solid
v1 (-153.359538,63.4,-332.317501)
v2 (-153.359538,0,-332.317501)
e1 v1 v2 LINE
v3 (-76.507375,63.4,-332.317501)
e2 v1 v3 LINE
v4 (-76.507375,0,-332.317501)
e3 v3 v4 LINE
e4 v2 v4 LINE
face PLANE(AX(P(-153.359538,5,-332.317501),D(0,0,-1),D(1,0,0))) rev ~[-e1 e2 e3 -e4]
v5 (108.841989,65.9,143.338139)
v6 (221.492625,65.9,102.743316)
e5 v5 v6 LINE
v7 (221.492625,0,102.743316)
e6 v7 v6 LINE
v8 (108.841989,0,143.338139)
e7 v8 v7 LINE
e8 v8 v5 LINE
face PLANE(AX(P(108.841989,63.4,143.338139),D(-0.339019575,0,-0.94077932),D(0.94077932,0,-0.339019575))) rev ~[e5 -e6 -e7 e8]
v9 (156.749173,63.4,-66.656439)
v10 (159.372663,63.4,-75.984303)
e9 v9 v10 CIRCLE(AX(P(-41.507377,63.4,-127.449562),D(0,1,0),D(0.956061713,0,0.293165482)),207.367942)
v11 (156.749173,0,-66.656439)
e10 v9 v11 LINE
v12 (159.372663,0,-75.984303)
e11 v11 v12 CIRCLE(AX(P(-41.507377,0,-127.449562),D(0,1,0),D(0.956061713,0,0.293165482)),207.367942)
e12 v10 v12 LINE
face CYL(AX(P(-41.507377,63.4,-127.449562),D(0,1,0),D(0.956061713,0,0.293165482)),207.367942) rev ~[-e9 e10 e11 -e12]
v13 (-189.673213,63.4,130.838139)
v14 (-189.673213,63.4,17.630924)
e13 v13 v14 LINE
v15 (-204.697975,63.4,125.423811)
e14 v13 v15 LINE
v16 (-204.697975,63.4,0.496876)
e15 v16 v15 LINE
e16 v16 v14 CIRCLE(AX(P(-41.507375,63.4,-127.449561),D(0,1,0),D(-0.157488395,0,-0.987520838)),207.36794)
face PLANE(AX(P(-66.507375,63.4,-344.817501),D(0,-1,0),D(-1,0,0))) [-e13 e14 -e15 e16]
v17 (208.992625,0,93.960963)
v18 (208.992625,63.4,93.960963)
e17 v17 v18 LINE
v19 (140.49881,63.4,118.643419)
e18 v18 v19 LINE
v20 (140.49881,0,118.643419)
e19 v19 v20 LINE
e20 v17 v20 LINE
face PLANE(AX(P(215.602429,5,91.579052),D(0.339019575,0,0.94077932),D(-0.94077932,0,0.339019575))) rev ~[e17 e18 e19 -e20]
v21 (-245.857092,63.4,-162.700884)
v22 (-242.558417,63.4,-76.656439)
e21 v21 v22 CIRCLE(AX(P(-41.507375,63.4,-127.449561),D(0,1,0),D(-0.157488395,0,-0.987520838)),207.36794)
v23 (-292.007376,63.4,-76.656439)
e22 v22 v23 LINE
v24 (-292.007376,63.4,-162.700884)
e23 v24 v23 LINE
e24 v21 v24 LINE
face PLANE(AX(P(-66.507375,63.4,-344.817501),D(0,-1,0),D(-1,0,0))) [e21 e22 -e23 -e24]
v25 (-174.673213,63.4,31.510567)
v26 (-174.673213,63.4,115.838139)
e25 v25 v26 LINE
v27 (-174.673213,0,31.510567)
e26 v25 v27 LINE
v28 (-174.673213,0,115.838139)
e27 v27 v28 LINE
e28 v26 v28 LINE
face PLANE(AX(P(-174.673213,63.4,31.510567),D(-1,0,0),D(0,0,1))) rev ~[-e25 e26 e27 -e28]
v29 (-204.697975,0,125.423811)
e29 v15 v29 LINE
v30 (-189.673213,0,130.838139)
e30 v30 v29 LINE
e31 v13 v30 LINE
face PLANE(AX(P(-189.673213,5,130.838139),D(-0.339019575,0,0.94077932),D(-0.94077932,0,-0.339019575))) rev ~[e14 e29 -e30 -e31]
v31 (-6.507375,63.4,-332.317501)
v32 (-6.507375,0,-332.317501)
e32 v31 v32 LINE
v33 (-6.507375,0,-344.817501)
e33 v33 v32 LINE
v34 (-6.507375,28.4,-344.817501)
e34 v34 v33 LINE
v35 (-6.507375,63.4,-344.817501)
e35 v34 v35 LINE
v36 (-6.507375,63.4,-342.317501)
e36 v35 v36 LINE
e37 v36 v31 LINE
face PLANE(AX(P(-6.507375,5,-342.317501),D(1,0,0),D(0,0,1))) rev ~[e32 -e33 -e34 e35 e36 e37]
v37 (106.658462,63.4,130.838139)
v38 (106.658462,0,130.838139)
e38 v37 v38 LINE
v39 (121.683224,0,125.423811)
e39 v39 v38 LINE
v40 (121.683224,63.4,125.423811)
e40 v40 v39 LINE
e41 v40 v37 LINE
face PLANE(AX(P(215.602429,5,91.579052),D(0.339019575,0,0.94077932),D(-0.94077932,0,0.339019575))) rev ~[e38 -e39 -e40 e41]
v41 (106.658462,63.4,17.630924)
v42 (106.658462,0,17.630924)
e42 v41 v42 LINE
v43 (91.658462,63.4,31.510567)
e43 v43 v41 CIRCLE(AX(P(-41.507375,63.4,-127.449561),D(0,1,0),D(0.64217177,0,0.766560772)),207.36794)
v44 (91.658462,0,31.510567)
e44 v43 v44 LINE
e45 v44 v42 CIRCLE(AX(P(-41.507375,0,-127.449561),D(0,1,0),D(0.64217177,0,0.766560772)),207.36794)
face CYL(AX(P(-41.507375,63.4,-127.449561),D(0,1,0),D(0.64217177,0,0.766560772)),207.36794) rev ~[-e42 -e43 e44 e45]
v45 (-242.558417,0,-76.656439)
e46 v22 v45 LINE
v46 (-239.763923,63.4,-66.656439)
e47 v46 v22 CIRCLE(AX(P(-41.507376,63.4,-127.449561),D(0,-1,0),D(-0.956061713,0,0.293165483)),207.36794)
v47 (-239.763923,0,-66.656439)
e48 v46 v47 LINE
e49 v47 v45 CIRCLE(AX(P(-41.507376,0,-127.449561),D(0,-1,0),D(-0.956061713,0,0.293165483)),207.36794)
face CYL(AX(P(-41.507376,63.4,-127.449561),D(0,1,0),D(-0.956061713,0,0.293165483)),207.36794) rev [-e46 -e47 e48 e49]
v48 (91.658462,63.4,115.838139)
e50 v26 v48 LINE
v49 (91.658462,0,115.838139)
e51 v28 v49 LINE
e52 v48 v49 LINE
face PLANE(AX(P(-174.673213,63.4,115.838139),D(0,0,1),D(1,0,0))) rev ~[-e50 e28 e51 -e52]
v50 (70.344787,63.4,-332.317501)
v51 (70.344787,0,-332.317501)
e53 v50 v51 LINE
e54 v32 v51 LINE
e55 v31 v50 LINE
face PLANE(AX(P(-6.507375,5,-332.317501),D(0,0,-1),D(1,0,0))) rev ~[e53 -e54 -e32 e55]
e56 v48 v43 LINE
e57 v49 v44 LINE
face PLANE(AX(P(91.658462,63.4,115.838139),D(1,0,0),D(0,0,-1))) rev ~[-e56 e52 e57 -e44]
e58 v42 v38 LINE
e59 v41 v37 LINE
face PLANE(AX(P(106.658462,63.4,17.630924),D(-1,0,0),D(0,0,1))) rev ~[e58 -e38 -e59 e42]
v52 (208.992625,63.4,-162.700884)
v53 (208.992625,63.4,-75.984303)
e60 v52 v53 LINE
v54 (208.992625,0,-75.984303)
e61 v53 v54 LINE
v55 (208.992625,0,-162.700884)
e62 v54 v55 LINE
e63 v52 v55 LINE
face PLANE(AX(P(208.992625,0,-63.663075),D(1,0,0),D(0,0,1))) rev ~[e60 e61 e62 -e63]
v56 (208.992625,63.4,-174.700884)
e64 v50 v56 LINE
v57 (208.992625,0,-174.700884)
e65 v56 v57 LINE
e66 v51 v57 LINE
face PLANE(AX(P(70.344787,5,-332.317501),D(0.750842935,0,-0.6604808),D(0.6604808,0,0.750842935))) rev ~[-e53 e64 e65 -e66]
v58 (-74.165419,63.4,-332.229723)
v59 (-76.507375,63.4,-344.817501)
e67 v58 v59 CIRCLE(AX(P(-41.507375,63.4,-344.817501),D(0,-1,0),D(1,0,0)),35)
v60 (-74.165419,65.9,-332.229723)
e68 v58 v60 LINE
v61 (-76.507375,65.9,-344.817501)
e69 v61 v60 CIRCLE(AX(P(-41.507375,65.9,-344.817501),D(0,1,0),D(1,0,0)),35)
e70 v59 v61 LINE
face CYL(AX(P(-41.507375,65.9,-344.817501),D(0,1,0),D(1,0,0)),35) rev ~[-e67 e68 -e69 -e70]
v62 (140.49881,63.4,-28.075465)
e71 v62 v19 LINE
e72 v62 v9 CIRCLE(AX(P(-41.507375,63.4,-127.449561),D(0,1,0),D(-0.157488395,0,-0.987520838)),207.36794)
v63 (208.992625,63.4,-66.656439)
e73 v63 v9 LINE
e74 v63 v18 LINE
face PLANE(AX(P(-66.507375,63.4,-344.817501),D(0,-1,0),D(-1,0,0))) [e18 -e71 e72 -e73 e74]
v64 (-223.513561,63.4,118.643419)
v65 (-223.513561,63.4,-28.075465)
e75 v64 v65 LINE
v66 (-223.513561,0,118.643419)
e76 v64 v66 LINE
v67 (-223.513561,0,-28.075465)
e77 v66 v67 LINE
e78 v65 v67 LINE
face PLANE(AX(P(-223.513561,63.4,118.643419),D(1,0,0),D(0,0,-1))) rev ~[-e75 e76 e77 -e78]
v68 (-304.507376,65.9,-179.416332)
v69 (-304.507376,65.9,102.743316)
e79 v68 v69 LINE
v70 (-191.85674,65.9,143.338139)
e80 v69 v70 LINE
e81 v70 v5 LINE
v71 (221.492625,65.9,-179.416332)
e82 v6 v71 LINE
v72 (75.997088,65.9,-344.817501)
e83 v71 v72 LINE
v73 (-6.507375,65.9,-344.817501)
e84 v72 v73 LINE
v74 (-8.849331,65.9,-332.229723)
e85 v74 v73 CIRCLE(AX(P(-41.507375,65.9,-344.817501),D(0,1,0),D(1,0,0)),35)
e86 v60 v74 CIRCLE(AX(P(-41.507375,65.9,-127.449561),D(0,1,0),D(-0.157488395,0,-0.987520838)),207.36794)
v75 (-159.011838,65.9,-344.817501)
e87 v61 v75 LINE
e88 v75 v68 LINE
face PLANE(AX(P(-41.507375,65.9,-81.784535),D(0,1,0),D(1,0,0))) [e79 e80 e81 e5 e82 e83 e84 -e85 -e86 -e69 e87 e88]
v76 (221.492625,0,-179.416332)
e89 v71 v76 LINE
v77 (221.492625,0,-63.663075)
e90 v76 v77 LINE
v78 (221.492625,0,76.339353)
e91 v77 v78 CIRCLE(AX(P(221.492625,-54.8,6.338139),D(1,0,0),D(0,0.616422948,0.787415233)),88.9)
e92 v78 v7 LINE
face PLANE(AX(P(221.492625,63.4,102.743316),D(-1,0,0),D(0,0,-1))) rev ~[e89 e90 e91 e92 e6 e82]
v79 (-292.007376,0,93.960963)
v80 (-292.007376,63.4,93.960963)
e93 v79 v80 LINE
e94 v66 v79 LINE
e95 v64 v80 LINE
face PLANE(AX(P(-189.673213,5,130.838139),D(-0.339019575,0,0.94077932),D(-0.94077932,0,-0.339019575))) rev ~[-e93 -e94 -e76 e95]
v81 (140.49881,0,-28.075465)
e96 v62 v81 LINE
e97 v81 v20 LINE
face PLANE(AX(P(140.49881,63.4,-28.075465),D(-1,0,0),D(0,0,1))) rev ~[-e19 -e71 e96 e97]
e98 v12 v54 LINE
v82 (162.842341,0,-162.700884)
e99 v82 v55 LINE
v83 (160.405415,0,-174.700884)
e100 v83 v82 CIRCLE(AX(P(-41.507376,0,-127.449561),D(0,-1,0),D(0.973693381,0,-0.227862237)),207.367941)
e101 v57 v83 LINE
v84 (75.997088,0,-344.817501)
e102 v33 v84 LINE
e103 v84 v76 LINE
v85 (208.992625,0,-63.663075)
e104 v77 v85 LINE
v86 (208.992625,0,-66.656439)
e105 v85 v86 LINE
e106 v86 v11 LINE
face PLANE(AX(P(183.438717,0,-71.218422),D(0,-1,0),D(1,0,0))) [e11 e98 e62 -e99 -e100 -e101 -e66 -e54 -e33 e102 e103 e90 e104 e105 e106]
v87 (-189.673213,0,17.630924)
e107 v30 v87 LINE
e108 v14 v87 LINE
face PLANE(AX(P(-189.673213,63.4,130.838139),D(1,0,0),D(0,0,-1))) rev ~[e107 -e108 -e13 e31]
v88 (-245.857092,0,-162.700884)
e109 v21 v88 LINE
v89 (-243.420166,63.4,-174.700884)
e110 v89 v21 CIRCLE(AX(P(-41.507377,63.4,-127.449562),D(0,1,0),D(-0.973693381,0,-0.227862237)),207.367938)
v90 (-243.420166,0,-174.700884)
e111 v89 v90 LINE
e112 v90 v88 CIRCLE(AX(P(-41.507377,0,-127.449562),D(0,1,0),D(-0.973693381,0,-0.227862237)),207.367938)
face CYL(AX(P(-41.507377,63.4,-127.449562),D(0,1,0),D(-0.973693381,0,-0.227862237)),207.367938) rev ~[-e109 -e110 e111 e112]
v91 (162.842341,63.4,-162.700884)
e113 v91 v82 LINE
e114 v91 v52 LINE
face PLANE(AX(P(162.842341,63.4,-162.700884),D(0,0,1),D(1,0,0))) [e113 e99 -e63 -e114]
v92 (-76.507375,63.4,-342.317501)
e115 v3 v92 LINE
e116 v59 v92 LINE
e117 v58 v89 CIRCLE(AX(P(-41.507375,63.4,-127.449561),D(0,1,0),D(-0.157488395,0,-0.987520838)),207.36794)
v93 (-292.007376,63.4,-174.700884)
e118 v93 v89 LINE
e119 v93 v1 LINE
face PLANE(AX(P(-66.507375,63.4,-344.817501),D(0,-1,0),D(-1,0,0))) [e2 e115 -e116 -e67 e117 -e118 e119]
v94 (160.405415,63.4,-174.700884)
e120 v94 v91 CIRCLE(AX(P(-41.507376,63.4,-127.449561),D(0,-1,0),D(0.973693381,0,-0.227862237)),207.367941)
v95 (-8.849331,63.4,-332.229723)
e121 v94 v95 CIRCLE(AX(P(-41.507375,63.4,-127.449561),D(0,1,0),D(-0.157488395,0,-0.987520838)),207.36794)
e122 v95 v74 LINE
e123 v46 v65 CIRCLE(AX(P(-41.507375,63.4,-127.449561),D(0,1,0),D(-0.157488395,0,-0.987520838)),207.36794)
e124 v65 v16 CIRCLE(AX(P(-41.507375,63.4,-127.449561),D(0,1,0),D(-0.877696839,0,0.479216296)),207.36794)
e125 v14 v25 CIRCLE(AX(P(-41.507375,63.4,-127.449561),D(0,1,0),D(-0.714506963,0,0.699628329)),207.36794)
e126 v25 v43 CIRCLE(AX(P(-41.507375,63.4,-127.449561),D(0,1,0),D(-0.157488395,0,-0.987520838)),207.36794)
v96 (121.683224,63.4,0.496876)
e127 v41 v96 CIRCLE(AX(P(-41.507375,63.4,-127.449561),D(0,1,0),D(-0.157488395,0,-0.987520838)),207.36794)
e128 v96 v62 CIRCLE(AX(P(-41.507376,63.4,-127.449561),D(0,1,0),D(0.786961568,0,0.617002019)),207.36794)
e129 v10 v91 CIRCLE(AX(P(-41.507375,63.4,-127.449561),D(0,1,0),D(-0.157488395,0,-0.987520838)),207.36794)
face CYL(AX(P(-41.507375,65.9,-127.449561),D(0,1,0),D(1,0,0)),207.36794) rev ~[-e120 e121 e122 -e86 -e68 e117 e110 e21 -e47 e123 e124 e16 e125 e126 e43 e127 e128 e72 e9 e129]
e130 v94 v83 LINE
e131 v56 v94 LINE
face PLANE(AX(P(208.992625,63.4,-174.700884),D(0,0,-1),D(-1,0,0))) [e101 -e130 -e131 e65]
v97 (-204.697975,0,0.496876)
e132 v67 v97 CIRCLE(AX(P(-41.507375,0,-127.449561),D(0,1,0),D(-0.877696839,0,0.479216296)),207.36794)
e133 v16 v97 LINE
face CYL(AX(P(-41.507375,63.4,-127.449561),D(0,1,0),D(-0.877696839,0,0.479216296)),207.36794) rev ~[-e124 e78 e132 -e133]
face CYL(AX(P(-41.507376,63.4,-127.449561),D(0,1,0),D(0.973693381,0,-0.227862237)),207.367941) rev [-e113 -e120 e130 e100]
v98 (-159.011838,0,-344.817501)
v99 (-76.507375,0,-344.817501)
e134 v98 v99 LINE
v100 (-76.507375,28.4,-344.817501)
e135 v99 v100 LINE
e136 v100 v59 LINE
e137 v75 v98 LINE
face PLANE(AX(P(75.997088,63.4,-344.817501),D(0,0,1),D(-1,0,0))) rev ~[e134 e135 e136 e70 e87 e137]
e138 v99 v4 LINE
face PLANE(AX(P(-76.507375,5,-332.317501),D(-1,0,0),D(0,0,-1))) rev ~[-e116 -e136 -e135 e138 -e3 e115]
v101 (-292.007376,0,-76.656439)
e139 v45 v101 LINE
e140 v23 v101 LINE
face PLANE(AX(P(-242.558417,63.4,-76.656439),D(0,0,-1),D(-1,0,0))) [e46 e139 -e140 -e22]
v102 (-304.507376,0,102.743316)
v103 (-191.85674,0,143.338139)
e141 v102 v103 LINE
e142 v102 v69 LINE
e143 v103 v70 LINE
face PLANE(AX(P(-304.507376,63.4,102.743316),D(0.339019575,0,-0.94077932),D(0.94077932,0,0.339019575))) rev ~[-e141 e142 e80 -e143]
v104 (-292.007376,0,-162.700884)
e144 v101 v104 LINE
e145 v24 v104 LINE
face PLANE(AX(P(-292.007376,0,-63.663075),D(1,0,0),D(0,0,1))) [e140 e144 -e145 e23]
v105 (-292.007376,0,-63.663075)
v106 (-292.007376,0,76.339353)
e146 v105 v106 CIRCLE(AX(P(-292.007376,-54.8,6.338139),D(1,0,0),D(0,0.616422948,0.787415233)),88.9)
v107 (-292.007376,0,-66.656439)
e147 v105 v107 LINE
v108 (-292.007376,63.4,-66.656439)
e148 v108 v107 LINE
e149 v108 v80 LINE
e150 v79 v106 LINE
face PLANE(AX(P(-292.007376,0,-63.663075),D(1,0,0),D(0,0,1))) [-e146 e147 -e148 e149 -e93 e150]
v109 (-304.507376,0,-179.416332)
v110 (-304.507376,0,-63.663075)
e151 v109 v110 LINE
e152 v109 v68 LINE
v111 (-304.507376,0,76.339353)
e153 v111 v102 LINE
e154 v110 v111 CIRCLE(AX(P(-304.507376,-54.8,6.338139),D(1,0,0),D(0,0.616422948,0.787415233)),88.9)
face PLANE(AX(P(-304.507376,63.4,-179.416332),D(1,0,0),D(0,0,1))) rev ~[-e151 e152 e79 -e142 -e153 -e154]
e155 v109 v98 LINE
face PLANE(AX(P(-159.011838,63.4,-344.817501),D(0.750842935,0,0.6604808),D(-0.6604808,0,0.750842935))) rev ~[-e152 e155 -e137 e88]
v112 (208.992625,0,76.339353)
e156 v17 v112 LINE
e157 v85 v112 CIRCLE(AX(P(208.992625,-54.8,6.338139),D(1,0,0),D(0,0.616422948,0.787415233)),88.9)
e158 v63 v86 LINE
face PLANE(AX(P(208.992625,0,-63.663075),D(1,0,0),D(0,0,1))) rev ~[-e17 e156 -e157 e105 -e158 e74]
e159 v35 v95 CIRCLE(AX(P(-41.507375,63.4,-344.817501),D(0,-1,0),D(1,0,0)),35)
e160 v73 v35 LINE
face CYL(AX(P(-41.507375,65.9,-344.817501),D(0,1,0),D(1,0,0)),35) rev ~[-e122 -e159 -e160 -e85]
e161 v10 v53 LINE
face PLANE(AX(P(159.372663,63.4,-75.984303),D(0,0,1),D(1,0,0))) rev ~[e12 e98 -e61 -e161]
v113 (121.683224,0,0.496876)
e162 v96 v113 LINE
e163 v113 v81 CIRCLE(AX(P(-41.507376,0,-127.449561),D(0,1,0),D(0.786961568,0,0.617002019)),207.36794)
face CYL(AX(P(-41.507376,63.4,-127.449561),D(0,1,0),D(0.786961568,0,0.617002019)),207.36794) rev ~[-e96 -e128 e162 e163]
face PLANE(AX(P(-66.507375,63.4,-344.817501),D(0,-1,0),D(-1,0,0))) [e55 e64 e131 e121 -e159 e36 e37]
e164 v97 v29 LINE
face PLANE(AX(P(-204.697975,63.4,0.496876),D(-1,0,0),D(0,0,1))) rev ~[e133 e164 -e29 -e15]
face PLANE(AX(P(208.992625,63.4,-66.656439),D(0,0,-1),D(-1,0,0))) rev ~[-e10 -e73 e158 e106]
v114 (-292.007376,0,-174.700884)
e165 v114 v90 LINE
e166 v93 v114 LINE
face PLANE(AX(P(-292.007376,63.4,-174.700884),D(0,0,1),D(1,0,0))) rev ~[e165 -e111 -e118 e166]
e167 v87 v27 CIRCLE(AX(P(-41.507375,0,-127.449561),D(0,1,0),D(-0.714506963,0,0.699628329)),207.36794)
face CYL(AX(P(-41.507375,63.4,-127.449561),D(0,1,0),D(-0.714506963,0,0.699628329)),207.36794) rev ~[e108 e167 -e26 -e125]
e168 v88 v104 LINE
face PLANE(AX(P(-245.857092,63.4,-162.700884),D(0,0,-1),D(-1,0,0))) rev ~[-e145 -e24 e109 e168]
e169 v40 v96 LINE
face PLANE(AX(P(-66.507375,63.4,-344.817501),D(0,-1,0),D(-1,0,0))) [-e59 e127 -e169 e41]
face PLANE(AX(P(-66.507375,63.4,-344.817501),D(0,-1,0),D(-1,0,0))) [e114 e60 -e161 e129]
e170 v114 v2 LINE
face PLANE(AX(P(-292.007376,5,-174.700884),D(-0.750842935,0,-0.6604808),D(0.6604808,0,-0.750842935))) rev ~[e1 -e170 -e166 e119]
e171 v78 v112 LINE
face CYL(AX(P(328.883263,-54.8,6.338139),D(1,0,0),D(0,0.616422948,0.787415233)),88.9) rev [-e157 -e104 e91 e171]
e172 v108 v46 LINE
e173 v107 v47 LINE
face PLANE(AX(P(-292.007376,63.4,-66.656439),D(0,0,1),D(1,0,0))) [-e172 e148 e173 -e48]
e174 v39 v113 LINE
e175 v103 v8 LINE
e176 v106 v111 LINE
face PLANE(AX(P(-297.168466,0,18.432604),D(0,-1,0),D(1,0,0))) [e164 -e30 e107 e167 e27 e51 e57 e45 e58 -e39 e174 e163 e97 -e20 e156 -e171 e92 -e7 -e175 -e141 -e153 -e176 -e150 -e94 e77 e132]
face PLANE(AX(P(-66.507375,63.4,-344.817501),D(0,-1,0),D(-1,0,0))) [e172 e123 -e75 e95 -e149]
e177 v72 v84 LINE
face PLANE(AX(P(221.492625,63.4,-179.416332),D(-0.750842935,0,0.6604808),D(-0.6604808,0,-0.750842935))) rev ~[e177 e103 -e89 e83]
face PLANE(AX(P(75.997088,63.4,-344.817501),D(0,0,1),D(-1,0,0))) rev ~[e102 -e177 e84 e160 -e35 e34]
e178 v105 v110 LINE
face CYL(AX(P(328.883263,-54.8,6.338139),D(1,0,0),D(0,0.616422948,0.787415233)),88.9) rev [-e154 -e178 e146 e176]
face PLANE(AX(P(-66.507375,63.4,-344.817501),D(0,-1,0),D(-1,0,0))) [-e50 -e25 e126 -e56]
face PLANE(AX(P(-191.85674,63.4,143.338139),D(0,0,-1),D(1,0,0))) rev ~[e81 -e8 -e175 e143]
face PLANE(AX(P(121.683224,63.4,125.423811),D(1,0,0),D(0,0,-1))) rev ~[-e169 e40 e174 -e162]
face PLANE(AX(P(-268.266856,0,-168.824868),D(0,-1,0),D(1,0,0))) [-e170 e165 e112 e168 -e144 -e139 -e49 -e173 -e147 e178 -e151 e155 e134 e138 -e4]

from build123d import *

# Parameters (mm, degrees)
BOSS_EXTRUDE1_DEPTH     = 63.399999946
BOSS_EXTRUDE2_DEPTH     = 63.399999946
BOSS_EXTRUDE3_DEPTH     = 5
BOSS_EXTRUDE4_DEPTH     = 2.5
SKETCH8_W               = 50.000000076
SKETCH8_H               = 34.99999985
CUT_EXTRUDE2_DEPTH      = 12.5
CUT_EXTRUDE4_DEPTH      = 2.5
SKETCH10_W              = 9.999999939
SKETCH10_H              = 34.99999985
CUT_EXTRUDE5_DEPTH      = 2.5
BOSS_EXTRUDE6_DEPTH     = 58.399999946
BOSS_EXTRUDE7_DEPTH     = 63.399999946
CUT_EXTRUDE8_DEPTH      = 633.390638366
CUT_EXTRUDE8_DEPTH_BACK = 633.390638366
SKETCH13_R              = 207.367939984
CUT_EXTRUDE9_DEPTH      = 465.722133037
BOSS_EXTRUDE15_DEPTH    = 63.4


with BuildPart() as part:
    # Sketch1 → Boss-Extrude1 (new body)
    with BuildSketch(Plane(origin=(0, 0, 0), x_dir=(1, 0, 0), z_dir=(0, 1, 0))):
        Polygon((-304.507375635, 63.663075045), (-304.507375635, -102.743315535), (-191.856739857, -143.33813924), (108.841988943, -143.33813924), (221.492624721, -102.743315535), (221.492624721, 63.663075045), (218.992624721, 63.663075045), (218.992624721, -100.986845182), (108.405283491, -140.83813932), (-191.420034405, -140.83813932), (-302.007375635, -100.986845182), (-302.007375635, 63.663075045), align=None)
    extrude(amount=BOSS_EXTRUDE1_DEPTH)



with BuildPart() as body_2:
    # Sketch3 → Boss-Extrude2 (new body)
    with BuildSketch(Plane(origin=(0, 0, 0), x_dir=(1, 0, 0), z_dir=(0, 1, 0))):
        Polygon((-304.507375635, 179.416332489), (-159.011838483, 344.817501188), (75.997087569, 344.817501188), (221.492624721, 179.416332489), (221.492624721, 63.663075045), (218.992624721, 63.663075045), (218.992624721, 178.473242754), (74.866627441, 342.317501188), (-157.881378355, 342.317501188), (-302.007375635, 178.473242754), (-302.007375635, 63.663075045), (-304.507375635, 63.663075045), align=None)
    extrude(amount=BOSS_EXTRUDE2_DEPTH)


with BuildPart() as part_1:
    add(part.part)

    add(body_2.part)  # Boss-Extrude3 merges body 2
    # Sketch5 → Boss-Extrude3 (add)
    with BuildSketch(Plane(origin=(0, 0, 0), x_dir=(1, 0, 0), z_dir=(0, 1, 0))):
        Polygon((208.992624721, 174.700883815), (208.992624721, 63.663075045), (218.992624721, 63.663075045), (218.992624721, 178.473242754), (74.866627441, 342.317501188), (-157.881378355, 342.317501188), (-302.007375635, 178.473242754), (-302.007375635, 63.663075045), (-292.007375635, 63.663075045), (-292.007375635, 174.700883815), (-153.359537842, 332.317501188), (70.344786927, 332.317501188), align=None)
        Polygon((215.602428975, -91.579051987), (106.658461628, -130.83813932), (-189.673212543, -130.83813932), (-298.617179889, -91.579051987), (-302.007375635, -100.986845182), (-191.420034405, -140.83813932), (108.405283491, -140.83813932), (218.992624721, -100.986845182), align=None)
    extrude(amount=BOSS_EXTRUDE3_DEPTH)

    # Sketch6 → Boss-Extrude4 (add)
    with BuildSketch(Plane(origin=(0, 63.399999946, 0), x_dir=(1, 0, 0), z_dir=(0, 1, 0))):
        Polygon((-159.011838483, 344.817501188), (-304.507375635, 179.416332489), (-304.507375635, -102.743315535), (-191.856739857, -143.33813924), (108.841988943, -143.33813924), (221.492624721, -102.743315535), (221.492624721, 179.416332489), (75.997087569, 344.817501188), align=None)
    extrude(amount=BOSS_EXTRUDE4_DEPTH)

    # Sketch8 → Cut-Extrude2 (cut)
    with BuildSketch(Plane(origin=(0, 0, -344.817501188), x_dir=(-1, 0, 0), z_dir=(0, 0, -1))):
        Polygon((6.50737548, 28.400000096), (6.50737548, 0), (76.507375434, 0), (76.507375434, 28.400000096), (66.507375495, 28.400000096), (16.507375419, 28.400000096), align=None)
        with Locations((41.507375457, 45.900000021)):
            Rectangle(SKETCH8_W, SKETCH8_H)
    extrude(amount=-CUT_EXTRUDE2_DEPTH, mode=Mode.SUBTRACT)

    # Sketch9 → Cut-Extrude4 (cut)
    with BuildSketch(Plane(origin=(0, 65.899999946, 0), x_dir=(1, 0, 0), z_dir=(0, 1, 0))):
        with BuildLine():
            ThreePointArc((-76.507375434, 344.817501188), (-41.507375457, 309.817501211), (-6.50737548, 344.817501188))
            Line((-6.50737548, 344.817501188), (-16.507375419, 344.817501188))
            Line((-16.507375419, 344.817501188), (-66.507375495, 344.817501188))
            Line((-66.507375495, 344.817501188), (-76.507375434, 344.817501188))
        make_face()
        with BuildLine():
            Line((-16.507375419, 344.817501188), (-6.50737548, 344.817501188))
            ThreePointArc((-6.50737548, 344.817501188), (-41.507375457, 379.817501165), (-76.507375434, 344.817501188))
            Line((-76.507375434, 344.817501188), (-66.507375495, 344.817501188))
            Line((-66.507375495, 344.817501188), (-16.507375419, 344.817501188))
        make_face()
    extrude(amount=-CUT_EXTRUDE4_DEPTH, mode=Mode.SUBTRACT)

    # Sketch10 → Cut-Extrude5 (cut)
    with BuildSketch(Plane(origin=(0, 0, -344.817501188), x_dir=(-1, 0, 0), z_dir=(0, 0, -1))):
        with Locations((11.50737545, 45.900000021)):
            Rectangle(SKETCH10_W, SKETCH10_H)
        with Locations((71.507375465, 45.900000021)):
            Rectangle(SKETCH10_W, SKETCH10_H)
    extrude(amount=-CUT_EXTRUDE5_DEPTH, mode=Mode.SUBTRACT)

    # Sketch11 → Boss-Extrude6 (add)
    with BuildSketch(Plane(origin=(0, 5, 0), x_dir=(1, 0, 0), z_dir=(0, 1, 0))):
        Polygon((-76.507375434, 332.317501188), (-76.507375434, 342.317501188), (-157.881378355, 342.317501188), (-302.007375635, 178.473242754), (-302.007375635, 63.663075045), (-292.007375635, 63.663075045), (-292.007375635, 174.700883815), (-153.359537842, 332.317501188), align=None)
        Polygon((208.992624721, 63.663075045), (218.992624721, 63.663075045), (218.992624721, 178.473242754), (74.866627441, 342.317501188), (-6.50737548, 342.317501188), (-6.50737548, 332.317501188), (70.344786927, 332.317501188), (208.992624721, 174.700883815), align=None)
        Polygon((108.405283491, -140.83813932), (218.992624721, -100.986845182), (215.602428975, -91.579051987), (106.658461628, -130.83813932), (-189.673212543, -130.83813932), (-298.617179889, -91.579051987), (-302.007375635, -100.986845182), (-191.420034405, -140.83813932), align=None)
    extrude(amount=BOSS_EXTRUDE6_DEPTH)

    # Sketch12 → Boss-Extrude7 (add)
    with BuildSketch(Plane.XZ):
        Polygon((-302.007375635, 100.986845182), (-302.007375635, -63.663075045), (-292.007375635, -63.663075045), (-292.007375635, 93.96096343), (-298.617179889, 91.579051987), align=None)
        Polygon((218.992624721, 100.986845182), (218.992624721, -63.663075045), (208.992624721, -63.663075045), (208.992624721, 93.96096343), (215.602428975, 91.579051987), align=None)
    extrude(amount=-BOSS_EXTRUDE7_DEPTH)

    # Sketch2 → Cut-Extrude8 (cut, two sides: drawn at the far end of the back side and taken through both)
    with BuildSketch(Plane.ZY.offset(304.507375635).offset(-CUT_EXTRUDE8_DEPTH_BACK)):
        with BuildLine():
            ThreePointArc((-63.663075045, 0), (-22.645494652, -138.842602216), (95.238139156, -54.800000095))
            ThreePointArc((95.238139156, -54.800000095), (90.380741277, -25.816366286), (76.339353357, 0))
            Line((76.339353357, 0), (-63.663075045, 0))
        make_face()
        with BuildLine():
            Line((-63.663075045, 0), (76.339353357, 0))
            ThreePointArc((76.339353357, 0), (6.338139156, 34.099999905), (-63.663075045, 0))
        make_face()
    extrude(amount=CUT_EXTRUDE8_DEPTH + CUT_EXTRUDE8_DEPTH_BACK, mode=Mode.SUBTRACT)

    # Sketch13 → Cut-Extrude9 (cut, through all)
    with BuildSketch(Plane(origin=(0, 65.899999946, 0), x_dir=(1, 0, 0), z_dir=(0, 1, 0))):
        with Locations((-41.507375457, 127.449561204)):
            Circle(SKETCH13_R)
    extrude(amount=-CUT_EXTRUDE9_DEPTH, mode=Mode.SUBTRACT)

    # Sketch16 → Boss-Extrude15 (add, through all)
    with BuildSketch(Plane.XZ.offset(-63.399999946)):
        with BuildLine():
            Line((-292.007375635, -174.700883815), (-243.420166148, -174.700883815))
            ThreePointArc((-243.420166148, -174.700883815), (-244.727222578, -168.718875101), (-245.857092333, -162.700883815))
            Line((-245.857092333, -162.700883815), (-292.007375635, -162.700883815))
            Line((-292.007375635, -162.700883815), (-292.007375635, -174.700883815))
        make_face()
        with BuildLine():
            Line((-292.007375635, -66.656438986), (-239.763923455, -66.656438986))
            ThreePointArc((-239.763923455, -66.656438986), (-241.223768745, -71.638945859), (-242.558416908, -76.656438986))
            Line((-242.558416908, -76.656438986), (-292.007375635, -76.656438986))
            Line((-292.007375635, -76.656438986), (-292.007375635, -66.656438986))
        make_face()
        with BuildLine():
            Line((-223.513560978, 118.643419163), (-223.513560978, -28.075465156))
            ThreePointArc((-223.513560978, -28.075465156), (-214.696000108, -13.400611956), (-204.697974588, 0.496876373))
            Line((-204.697974588, 0.496876373), (-204.697974588, 125.423810655))
            Line((-204.697974588, 125.423810655), (-223.513560978, 118.643419163))
        make_face()
        with BuildLine():
            Line((-189.673212543, 130.83813932), (-189.673212543, 17.63092423))
            ThreePointArc((-189.673212543, 17.63092423), (-182.344298329, 24.755641365), (-174.673212543, 31.510567025))
            Line((-174.673212543, 31.510567025), (-174.673212543, 115.83813932))
            Line((-174.673212543, 115.83813932), (91.658461628, 115.83813932))
            Line((91.658461628, 115.83813932), (91.658461628, 31.510567025))
            ThreePointArc((91.658461628, 31.510567025), (99.329547415, 24.755641365), (106.658461628, 17.63092423))
            Line((106.658461628, 17.63092423), (106.658461628, 130.83813932))
            Line((106.658461628, 130.83813932), (-189.673212543, 130.83813932))
        make_face()
        with BuildLine():
            Line((121.683223673, 125.423810655), (121.683223673, 0.496876373))
            ThreePointArc((121.683223673, 0.496876373), (131.681249194, -13.400611956), (140.498810064, -28.075465156))
            Line((140.498810064, -28.075465156), (140.498810064, 118.643419163))
            Line((140.498810064, 118.643419163), (121.683223673, 125.423810655))
        make_face()
        with BuildLine():
            Line((208.992624721, -66.656438986), (156.749172541, -66.656438986))
            ThreePointArc((156.749172541, -66.656438986), (158.115408542, -71.30504552), (159.372662829, -75.984303492))
            Line((159.372662829, -75.984303492), (208.992624721, -75.984303492))
            Line((208.992624721, -75.984303492), (208.992624721, -66.656438986))
        make_face()
        with BuildLine():
            Line((208.992624721, -174.700883815), (160.405415234, -174.700883815))
            ThreePointArc((160.405415234, -174.700883815), (161.712471663, -168.718875101), (162.842341419, -162.700883815))
            Line((162.842341419, -162.700883815), (208.992624721, -162.700883815))
            Line((208.992624721, -162.700883815), (208.992624721, -174.700883815))
        make_face()
    extrude(amount=BOSS_EXTRUDE15_DEPTH)


solid = part_1.part
